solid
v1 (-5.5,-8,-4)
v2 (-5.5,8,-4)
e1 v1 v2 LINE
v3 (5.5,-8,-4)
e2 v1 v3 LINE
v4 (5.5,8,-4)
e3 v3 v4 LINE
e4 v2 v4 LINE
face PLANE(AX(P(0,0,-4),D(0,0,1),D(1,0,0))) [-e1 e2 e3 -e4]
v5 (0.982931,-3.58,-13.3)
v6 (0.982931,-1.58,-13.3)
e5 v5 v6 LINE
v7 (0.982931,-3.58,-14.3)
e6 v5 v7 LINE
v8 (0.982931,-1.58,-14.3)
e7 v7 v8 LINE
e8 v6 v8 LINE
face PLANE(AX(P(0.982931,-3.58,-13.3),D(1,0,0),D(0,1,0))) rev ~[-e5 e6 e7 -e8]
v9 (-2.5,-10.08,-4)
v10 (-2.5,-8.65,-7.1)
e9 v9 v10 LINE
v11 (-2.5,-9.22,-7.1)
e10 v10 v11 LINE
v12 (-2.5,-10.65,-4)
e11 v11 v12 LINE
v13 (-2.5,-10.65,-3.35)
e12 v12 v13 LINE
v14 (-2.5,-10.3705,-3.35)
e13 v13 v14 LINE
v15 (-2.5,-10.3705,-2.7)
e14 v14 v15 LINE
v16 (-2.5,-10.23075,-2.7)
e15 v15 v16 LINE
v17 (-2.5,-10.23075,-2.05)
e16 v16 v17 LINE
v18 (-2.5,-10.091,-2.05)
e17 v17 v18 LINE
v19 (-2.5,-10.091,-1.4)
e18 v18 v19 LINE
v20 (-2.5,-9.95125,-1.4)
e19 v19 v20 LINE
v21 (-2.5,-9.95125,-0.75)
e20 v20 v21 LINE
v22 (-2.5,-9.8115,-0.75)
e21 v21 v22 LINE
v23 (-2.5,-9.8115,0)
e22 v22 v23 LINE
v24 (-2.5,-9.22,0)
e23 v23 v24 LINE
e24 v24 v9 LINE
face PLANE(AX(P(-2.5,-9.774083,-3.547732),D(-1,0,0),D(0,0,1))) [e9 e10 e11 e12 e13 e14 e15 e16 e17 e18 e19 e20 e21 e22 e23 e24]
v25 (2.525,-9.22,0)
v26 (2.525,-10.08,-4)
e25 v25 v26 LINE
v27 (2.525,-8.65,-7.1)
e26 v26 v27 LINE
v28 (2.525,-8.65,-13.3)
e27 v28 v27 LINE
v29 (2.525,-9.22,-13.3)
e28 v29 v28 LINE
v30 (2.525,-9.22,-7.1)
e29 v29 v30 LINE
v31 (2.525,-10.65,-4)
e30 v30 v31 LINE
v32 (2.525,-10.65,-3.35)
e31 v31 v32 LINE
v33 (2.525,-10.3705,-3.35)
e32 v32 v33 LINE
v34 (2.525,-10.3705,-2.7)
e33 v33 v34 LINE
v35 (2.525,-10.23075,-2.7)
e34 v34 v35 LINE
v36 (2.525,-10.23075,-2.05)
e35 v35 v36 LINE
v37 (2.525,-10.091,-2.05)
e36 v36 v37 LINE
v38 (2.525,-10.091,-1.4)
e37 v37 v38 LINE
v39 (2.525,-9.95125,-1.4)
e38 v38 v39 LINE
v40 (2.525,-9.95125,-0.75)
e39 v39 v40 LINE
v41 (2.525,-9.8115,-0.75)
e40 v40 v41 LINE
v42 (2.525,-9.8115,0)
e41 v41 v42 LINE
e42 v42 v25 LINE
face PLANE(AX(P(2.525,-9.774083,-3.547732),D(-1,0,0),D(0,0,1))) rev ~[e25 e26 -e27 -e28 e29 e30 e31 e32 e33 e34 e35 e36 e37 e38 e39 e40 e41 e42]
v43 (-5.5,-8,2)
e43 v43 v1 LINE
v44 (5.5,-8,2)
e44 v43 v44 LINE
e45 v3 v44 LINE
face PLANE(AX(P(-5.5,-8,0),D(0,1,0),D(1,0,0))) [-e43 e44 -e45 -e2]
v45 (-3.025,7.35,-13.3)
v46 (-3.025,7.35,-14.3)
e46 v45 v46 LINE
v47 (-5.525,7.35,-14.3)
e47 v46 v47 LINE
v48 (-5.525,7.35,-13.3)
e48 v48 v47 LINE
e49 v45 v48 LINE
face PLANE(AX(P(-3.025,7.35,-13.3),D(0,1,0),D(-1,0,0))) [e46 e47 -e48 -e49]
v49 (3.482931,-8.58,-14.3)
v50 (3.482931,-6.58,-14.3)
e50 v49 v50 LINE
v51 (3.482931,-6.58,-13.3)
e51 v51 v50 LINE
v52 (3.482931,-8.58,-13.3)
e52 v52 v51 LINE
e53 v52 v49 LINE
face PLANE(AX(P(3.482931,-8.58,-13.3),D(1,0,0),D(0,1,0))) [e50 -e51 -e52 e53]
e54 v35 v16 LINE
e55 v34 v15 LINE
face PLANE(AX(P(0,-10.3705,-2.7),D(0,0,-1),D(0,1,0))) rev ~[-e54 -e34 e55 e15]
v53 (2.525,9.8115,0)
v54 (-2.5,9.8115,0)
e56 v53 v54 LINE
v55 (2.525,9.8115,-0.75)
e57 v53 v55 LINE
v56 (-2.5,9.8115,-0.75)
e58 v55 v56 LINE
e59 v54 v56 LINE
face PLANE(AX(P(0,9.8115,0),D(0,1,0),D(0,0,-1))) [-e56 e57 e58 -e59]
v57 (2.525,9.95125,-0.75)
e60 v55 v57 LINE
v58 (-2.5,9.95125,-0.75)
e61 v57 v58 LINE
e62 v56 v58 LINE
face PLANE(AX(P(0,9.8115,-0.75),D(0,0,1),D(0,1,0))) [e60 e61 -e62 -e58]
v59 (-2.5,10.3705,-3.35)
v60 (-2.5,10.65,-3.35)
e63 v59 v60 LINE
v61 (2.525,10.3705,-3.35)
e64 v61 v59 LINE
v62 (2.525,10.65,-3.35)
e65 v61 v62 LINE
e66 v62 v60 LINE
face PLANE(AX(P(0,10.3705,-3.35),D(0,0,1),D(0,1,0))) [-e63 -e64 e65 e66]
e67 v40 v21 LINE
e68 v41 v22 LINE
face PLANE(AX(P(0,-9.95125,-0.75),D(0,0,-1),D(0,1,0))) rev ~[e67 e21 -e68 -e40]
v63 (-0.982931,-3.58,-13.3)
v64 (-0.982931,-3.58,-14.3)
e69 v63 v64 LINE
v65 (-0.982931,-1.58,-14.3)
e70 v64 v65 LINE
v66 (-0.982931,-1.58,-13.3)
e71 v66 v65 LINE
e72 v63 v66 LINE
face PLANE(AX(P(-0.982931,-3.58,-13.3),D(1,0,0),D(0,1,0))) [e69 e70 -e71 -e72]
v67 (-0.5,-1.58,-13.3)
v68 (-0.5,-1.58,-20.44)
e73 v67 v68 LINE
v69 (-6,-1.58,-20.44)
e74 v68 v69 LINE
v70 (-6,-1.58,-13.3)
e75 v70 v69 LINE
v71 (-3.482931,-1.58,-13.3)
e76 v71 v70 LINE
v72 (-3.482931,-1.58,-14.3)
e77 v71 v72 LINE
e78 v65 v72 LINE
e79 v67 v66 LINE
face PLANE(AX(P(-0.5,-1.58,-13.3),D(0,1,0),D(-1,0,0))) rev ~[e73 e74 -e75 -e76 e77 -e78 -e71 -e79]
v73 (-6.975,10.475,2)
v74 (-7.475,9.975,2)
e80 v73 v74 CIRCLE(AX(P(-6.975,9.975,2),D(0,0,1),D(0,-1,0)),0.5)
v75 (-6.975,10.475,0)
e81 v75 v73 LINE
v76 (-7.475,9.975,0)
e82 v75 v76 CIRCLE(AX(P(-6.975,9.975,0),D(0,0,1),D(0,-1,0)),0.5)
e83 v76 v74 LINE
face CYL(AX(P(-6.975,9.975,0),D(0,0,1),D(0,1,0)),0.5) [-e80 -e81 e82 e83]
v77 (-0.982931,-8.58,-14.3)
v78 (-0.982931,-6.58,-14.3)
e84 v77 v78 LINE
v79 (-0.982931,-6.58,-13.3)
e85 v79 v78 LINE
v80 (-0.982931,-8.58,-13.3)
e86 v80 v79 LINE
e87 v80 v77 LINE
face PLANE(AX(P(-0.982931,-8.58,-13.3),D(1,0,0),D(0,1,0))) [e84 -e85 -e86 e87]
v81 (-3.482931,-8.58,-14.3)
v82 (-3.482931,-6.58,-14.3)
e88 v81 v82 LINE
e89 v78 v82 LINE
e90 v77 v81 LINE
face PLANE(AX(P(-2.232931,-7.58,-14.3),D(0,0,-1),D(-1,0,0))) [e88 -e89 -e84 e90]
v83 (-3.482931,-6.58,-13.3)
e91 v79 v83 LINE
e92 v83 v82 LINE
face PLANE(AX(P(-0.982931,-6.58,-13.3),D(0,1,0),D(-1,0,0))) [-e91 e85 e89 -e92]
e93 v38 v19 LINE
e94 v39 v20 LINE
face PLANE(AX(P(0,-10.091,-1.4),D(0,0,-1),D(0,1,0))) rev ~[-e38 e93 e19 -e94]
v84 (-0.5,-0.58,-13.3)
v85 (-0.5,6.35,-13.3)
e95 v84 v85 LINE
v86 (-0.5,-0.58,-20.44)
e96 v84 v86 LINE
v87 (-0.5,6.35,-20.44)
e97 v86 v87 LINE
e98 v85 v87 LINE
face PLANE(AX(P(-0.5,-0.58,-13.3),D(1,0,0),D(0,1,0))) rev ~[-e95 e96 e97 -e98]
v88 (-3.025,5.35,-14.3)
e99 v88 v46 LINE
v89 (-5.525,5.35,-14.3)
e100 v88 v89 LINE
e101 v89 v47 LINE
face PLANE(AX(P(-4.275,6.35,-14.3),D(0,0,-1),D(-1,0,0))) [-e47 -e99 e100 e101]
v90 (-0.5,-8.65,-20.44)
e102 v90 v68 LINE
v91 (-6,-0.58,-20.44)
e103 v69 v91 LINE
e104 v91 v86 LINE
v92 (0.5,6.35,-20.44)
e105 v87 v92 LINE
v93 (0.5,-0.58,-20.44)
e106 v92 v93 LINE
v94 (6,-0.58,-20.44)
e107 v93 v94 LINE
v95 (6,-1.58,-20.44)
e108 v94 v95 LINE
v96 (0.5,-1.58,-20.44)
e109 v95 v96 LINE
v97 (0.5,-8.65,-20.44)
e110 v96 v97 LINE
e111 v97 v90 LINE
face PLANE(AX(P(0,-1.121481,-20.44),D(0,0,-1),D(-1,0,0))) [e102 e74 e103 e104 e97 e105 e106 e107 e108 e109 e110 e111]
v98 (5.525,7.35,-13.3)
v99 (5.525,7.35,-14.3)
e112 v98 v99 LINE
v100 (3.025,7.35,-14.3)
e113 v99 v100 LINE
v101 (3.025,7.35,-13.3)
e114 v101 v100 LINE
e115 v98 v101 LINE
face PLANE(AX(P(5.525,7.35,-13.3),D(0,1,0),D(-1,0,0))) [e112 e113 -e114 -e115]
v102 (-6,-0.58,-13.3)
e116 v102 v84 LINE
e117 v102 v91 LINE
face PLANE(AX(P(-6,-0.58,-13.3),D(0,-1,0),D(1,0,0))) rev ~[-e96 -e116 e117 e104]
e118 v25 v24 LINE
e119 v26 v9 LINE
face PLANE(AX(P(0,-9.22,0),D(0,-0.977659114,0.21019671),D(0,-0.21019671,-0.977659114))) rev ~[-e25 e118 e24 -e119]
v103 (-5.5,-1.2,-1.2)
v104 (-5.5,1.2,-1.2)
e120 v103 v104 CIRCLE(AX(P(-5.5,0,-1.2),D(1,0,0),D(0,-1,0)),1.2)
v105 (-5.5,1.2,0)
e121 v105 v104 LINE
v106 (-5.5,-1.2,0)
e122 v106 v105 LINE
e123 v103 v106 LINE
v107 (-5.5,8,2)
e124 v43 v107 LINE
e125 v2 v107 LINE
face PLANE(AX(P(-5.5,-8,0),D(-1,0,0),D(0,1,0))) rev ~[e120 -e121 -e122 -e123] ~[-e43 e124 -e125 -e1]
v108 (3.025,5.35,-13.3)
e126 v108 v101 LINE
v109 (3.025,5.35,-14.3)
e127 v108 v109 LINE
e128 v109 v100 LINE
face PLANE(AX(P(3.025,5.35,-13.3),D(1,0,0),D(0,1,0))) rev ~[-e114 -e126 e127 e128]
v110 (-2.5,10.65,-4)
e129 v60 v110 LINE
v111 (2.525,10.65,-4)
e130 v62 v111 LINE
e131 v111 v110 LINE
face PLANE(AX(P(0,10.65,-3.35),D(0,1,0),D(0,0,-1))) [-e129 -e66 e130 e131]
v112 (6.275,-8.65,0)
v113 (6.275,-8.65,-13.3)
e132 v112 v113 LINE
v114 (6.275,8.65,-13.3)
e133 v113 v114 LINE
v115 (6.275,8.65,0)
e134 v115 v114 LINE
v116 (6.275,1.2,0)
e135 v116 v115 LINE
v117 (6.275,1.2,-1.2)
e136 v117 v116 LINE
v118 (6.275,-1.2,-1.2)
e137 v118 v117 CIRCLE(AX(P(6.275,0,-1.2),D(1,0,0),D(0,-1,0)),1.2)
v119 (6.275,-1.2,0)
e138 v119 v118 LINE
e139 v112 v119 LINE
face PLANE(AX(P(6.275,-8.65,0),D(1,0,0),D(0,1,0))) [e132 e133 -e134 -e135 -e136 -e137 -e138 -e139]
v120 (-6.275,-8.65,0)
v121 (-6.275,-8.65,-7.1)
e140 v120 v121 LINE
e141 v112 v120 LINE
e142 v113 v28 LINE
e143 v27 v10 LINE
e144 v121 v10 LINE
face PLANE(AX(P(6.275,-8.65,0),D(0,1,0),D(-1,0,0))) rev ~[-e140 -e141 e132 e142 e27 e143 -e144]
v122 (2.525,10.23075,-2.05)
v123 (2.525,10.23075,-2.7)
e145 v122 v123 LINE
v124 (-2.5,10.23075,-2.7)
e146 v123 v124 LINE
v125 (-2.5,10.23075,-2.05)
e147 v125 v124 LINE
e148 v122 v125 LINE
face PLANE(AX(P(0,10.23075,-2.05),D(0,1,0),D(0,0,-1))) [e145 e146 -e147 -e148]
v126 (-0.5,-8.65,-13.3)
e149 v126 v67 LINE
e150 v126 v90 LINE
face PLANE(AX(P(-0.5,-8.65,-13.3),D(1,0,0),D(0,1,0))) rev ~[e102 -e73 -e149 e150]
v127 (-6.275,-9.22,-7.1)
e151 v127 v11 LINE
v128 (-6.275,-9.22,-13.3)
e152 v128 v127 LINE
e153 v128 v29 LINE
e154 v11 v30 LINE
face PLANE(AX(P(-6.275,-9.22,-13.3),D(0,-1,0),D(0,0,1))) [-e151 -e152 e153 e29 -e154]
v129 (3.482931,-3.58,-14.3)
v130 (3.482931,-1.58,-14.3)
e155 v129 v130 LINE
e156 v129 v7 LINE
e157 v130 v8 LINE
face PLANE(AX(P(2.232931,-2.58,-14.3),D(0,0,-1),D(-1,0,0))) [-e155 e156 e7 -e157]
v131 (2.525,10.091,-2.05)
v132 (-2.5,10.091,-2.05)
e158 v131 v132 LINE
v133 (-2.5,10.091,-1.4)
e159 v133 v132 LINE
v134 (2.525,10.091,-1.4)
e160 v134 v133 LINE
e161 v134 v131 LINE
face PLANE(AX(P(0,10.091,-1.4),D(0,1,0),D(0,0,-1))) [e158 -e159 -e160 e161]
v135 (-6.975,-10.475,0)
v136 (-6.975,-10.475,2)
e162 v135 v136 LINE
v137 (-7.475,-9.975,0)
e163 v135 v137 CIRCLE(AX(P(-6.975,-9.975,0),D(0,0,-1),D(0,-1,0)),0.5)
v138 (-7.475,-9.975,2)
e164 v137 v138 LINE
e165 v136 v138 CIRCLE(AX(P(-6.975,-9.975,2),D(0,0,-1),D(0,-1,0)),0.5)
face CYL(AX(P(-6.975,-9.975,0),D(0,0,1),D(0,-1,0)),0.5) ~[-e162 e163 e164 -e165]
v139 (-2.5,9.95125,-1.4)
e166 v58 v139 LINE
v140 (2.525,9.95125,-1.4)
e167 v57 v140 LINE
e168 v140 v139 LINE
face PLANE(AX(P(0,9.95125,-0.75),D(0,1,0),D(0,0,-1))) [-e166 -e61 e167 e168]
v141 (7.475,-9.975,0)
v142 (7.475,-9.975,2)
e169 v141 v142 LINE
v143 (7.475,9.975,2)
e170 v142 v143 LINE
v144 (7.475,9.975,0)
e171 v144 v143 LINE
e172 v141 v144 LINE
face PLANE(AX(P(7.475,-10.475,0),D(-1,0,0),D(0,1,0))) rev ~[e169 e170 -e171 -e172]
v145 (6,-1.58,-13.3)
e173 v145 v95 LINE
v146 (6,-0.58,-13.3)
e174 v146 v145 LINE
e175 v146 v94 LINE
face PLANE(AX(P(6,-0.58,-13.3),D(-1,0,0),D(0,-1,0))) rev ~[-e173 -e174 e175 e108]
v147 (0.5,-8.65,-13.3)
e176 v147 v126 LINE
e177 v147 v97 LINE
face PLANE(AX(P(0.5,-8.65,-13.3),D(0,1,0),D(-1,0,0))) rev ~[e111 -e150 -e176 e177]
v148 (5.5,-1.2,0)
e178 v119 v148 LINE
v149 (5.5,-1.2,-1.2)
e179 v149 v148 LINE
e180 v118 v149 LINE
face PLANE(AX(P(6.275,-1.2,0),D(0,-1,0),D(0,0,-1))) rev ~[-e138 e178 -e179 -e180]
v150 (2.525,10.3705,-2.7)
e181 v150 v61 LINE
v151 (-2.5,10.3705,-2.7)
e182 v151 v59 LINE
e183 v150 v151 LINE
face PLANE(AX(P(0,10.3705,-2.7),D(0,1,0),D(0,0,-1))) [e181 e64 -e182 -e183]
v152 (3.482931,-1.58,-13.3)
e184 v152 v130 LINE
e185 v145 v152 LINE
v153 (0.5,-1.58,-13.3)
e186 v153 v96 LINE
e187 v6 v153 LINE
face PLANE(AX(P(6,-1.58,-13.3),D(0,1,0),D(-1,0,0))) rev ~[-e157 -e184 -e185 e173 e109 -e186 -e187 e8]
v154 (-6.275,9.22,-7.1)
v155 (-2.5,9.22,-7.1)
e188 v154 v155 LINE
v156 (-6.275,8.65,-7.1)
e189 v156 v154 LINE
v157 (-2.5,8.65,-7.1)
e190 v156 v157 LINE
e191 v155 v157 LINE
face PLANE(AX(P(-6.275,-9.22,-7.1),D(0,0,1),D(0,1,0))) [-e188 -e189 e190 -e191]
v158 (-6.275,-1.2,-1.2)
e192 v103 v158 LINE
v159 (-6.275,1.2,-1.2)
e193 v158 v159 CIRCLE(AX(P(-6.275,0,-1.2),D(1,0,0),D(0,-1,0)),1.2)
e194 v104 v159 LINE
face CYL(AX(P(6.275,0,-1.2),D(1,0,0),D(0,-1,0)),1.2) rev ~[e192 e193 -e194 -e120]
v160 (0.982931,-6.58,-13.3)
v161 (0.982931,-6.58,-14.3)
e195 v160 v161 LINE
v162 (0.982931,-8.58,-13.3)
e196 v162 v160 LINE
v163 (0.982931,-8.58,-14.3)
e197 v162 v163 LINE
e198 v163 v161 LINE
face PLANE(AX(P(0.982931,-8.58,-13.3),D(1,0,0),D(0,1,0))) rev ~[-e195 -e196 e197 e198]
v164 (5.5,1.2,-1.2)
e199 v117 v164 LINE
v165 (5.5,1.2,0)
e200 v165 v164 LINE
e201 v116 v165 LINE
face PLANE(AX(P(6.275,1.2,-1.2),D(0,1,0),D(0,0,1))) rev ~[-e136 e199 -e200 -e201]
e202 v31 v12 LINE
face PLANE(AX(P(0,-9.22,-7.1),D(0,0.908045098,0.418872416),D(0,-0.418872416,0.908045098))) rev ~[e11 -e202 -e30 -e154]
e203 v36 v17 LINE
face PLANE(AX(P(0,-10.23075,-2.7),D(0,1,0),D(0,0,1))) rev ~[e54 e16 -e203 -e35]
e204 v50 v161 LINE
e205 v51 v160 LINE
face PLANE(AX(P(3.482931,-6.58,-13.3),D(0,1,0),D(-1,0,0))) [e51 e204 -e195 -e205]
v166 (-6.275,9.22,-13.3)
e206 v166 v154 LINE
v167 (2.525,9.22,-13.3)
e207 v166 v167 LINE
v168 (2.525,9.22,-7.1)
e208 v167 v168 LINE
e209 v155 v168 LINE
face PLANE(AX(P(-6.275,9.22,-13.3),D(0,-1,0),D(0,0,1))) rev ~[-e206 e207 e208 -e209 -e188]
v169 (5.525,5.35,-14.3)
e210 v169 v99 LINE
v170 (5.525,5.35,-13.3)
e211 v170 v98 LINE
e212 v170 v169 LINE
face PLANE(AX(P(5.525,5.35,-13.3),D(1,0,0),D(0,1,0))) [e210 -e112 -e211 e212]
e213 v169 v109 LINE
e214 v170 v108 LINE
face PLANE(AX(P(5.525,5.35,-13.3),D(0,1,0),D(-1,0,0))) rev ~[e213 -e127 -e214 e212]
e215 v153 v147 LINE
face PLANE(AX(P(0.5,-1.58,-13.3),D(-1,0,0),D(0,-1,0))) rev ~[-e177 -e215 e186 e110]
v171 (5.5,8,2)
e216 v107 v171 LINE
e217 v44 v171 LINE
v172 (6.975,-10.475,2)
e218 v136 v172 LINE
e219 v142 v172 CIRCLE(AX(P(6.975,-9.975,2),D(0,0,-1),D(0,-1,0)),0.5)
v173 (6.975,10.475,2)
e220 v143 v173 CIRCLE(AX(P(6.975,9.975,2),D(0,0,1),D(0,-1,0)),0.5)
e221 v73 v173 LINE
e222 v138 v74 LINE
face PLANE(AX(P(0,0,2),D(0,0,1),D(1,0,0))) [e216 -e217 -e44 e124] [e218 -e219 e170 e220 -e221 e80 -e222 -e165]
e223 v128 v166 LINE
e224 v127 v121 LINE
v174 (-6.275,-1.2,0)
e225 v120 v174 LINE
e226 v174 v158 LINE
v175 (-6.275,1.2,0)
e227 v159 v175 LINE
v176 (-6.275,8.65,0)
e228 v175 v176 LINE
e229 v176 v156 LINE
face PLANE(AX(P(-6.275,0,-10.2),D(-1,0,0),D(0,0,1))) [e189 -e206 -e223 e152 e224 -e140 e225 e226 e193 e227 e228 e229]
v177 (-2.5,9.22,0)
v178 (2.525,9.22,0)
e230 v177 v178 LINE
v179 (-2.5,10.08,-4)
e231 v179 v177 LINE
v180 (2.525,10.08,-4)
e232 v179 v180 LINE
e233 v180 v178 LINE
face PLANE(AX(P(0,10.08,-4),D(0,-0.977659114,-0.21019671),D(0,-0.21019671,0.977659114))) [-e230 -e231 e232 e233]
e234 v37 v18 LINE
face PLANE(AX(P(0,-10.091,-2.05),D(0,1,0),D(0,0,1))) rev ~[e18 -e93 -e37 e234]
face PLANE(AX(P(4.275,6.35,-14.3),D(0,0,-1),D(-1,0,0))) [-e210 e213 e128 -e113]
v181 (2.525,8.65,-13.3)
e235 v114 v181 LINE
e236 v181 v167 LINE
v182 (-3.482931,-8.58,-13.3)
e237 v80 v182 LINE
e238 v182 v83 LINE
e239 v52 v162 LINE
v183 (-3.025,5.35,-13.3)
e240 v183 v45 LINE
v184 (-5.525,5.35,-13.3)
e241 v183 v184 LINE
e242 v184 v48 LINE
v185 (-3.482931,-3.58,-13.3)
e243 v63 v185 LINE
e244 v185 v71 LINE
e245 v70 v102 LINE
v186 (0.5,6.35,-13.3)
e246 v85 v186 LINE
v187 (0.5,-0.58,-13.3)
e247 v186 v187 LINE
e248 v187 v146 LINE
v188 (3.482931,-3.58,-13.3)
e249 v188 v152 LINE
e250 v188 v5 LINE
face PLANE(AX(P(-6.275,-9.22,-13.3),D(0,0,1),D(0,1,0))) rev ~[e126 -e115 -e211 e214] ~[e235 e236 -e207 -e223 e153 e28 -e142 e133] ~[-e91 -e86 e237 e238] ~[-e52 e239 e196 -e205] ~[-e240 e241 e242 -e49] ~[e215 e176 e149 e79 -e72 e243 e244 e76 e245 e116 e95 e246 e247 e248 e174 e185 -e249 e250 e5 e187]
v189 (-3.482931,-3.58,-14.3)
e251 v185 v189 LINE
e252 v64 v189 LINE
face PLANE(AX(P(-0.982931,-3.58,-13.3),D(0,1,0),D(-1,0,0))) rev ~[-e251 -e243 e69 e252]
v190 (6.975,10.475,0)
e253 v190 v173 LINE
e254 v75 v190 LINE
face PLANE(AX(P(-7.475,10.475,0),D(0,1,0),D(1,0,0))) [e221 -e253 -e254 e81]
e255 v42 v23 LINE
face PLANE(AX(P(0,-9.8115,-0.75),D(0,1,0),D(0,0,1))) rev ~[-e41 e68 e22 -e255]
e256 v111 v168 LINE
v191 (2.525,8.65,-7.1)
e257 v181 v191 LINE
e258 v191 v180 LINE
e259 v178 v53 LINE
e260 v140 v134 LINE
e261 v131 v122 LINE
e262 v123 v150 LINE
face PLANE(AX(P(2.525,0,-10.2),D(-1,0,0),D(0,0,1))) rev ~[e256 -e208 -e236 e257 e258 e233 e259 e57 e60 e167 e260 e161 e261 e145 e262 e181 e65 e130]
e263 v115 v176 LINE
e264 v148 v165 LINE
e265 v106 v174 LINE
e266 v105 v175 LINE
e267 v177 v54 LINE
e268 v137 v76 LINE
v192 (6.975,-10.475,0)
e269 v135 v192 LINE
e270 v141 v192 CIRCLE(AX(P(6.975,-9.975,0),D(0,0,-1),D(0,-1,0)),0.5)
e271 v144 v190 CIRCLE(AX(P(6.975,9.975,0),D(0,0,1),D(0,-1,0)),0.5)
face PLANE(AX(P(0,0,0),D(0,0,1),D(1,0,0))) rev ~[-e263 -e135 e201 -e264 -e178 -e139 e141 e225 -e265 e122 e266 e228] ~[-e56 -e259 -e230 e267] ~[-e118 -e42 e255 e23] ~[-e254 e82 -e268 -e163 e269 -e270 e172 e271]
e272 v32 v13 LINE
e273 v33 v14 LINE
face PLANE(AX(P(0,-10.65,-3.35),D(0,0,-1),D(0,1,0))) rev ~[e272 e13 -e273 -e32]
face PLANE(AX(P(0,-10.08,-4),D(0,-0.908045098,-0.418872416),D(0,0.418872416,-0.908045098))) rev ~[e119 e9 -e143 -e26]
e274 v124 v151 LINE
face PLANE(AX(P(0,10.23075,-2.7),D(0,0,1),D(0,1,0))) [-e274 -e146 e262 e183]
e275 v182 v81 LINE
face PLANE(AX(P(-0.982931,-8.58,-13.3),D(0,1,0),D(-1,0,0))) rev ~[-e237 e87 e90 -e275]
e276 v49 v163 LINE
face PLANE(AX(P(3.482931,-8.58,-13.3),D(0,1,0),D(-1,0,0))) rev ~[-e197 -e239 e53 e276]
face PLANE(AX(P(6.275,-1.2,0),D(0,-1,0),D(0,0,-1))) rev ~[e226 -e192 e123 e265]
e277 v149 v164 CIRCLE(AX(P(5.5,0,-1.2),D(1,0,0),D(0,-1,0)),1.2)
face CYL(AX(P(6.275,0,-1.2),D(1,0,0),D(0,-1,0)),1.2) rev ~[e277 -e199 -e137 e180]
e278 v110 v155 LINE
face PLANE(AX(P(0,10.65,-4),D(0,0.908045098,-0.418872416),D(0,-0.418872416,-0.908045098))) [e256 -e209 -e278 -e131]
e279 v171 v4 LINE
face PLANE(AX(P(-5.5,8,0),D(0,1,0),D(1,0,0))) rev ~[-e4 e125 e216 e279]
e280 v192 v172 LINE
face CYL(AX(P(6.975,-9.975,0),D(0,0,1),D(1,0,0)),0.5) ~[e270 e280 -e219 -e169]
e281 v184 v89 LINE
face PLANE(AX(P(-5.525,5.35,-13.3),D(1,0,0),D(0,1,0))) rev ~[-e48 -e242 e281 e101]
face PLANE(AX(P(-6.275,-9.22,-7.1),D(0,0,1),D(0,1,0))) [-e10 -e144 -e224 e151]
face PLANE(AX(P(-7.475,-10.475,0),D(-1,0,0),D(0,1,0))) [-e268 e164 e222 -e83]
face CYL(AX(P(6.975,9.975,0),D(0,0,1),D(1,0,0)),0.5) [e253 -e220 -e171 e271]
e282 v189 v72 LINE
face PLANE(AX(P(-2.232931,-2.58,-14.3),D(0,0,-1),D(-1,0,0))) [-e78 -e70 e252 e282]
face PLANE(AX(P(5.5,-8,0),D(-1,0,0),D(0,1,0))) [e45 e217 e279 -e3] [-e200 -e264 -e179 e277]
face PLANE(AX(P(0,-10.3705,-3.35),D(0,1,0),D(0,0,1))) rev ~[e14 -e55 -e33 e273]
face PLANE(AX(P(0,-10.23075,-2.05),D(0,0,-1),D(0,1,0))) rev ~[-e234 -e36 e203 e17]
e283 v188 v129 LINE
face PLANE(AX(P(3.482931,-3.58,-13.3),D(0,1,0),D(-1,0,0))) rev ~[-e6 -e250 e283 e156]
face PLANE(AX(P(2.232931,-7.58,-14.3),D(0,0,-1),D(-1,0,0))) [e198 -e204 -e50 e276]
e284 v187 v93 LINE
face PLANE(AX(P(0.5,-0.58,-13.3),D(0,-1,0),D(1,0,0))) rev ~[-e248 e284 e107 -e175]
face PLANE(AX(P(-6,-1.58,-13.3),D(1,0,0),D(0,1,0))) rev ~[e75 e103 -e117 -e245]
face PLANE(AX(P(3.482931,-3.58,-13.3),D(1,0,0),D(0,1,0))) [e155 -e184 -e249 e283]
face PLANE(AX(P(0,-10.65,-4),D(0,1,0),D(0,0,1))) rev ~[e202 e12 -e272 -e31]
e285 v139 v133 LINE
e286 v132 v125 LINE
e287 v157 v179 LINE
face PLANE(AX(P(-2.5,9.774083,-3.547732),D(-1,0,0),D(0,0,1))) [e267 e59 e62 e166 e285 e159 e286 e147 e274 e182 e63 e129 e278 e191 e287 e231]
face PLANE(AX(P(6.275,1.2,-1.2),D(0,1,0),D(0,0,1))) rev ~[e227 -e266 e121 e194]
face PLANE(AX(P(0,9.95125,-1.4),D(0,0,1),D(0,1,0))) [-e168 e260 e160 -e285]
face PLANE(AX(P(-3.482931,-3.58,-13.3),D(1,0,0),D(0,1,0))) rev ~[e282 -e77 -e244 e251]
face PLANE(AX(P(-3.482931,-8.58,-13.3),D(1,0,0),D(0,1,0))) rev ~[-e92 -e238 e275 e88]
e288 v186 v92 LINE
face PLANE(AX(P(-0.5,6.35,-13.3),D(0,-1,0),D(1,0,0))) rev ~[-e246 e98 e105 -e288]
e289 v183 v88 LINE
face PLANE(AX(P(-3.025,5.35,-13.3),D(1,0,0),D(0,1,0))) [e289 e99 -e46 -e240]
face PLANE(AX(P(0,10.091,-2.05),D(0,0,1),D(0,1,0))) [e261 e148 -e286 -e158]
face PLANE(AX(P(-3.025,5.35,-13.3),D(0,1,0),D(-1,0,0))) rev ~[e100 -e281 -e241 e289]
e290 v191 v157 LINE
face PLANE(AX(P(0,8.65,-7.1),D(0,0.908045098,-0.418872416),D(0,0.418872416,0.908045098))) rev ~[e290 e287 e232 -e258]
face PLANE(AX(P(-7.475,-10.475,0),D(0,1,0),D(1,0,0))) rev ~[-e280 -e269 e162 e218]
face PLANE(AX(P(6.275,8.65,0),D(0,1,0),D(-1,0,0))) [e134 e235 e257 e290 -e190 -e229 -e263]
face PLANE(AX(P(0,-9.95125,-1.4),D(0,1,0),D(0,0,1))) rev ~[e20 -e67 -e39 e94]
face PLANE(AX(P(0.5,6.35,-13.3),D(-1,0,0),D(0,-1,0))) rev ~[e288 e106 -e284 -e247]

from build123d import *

# Parameters (mm, degrees)
SKETCH1_W                = 14.95
SKETCH1_H                = 20.95
SKETCH1_W_2              = 11
SKETCH1_H_2              = 16
BOSS_EXTRUDE1_DEPTH      = 2
SKETCH2_W                = 12.55
SKETCH2_H                = 17.3
BOSS_EXTRUDE2_DEPTH      = 13.3
SKETCH3_W                = 6.2
SKETCH3_H                = 18.44
BOSS_EXTRUDE3_DEPTH      = 8.8
BOSS_EXTRUDE4_DEPTH      = 2.525
BOSS_EXTRUDE4_DEPTH_BACK = 2.5
BOSS_EXTRUDE5_DEPTH      = 7.14
SKETCH6_W                = 2.5
SKETCH6_H                = 2
BOSS_EXTRUDE6_DEPTH      = 1
CUT_EXTRUDE1_DEPTH       = 12.55
SKETCH8_W                = 11
SKETCH8_H                = 16
CUT_EXTRUDE2_DEPTH       = 4
FILLET1_R                = 0.5


with BuildPart() as part:
    # Sketch1 → Boss-Extrude1 (new body)
    with BuildSketch(Plane.XY):
        Rectangle(SKETCH1_W, SKETCH1_H)
        Rectangle(SKETCH1_W_2, SKETCH1_H_2, mode=Mode.SUBTRACT)
    extrude(amount=BOSS_EXTRUDE1_DEPTH)

    # Sketch2 → Boss-Extrude2 (add)
    with BuildSketch(Plane(origin=(0, 0, 0), x_dir=(-1, 0, 0), z_dir=(0, 0, -1))):
        Rectangle(SKETCH2_W, SKETCH2_H)
    extrude(amount=BOSS_EXTRUDE2_DEPTH)

    # Sketch3 → Boss-Extrude3 (add)
    with BuildSketch(Plane.ZY.offset(6.275)):
        with Locations((-10.2, 0)):
            Rectangle(SKETCH3_W, SKETCH3_H)
    extrude(amount=-BOSS_EXTRUDE3_DEPTH)

    # Sketch4 → Boss-Extrude4 (add, two sides)
    with BuildSketch(Plane(origin=(0, 0, 0), x_dir=(0, 0, -1), z_dir=(1, 0, 0))) as boss_extrude4_sk:
        Polygon((7.1, -9.22), (4, -10.65), (3.35, -10.65), (3.35, -10.3705), (2.7, -10.3705), (2.7, -10.23075), (2.05, -10.23075), (2.05, -10.091), (1.4, -10.091), (1.4, -9.95125), (0.75, -9.95125), (0.75, -9.8115), (0, -9.8115), (0, -9.22), (4, -10.08), (7.1, -8.65), align=None)
        Polygon((7.1, 9.22), (7.1, 8.65), (4, 10.08), (0, 9.22), (0, 9.8115), (0.75, 9.8115), (0.75, 9.95125), (1.4, 9.95125), (1.4, 10.091), (2.05, 10.091), (2.05, 10.23075), (2.7, 10.23075), (2.7, 10.3705), (3.35, 10.3705), (3.35, 10.65), (4, 10.65), align=None)
    extrude(amount=BOSS_EXTRUDE4_DEPTH)
    extrude(boss_extrude4_sk.sketch, amount=-BOSS_EXTRUDE4_DEPTH_BACK)

    # Sketch5 → Boss-Extrude5 (add)
    with BuildSketch(Plane(origin=(0, 0, -13.3), x_dir=(-1, 0, 0), z_dir=(0, 0, -1))):
        Polygon((0.5, 6.35), (-0.5, 6.35), (-0.5, -0.58), (-6, -0.58), (-6, -1.58), (-0.5, -1.58), (-0.5, -8.65), (0.5, -8.65), (0.5, -1.58), (6, -1.58), (6, -0.58), (0.5, -0.58), align=None)
    extrude(amount=BOSS_EXTRUDE5_DEPTH)

    # Sketch6 → Boss-Extrude6 (add)
    with BuildSketch(Plane(origin=(0, 0, -13.3), x_dir=(-1, 0, 0), z_dir=(0, 0, -1))):
        with Locations((2.232930788, -2.58)):
            Rectangle(SKETCH6_W, SKETCH6_H)
        with Locations((2.232930788, -7.58)):
            Rectangle(SKETCH6_W, SKETCH6_H)
        with Locations((-2.232930788, -7.58)):
            Rectangle(SKETCH6_W, SKETCH6_H)
        with Locations((-2.232930788, -2.58)):
            Rectangle(SKETCH6_W, SKETCH6_H)
        with Locations((4.275, 6.35)):
            Rectangle(SKETCH6_W, SKETCH6_H)
        with Locations((-4.275, 6.35)):
            Rectangle(SKETCH6_W, SKETCH6_H)
    extrude(amount=BOSS_EXTRUDE6_DEPTH)

    # Sketch7 → Cut-Extrude1 (cut)
    with BuildSketch(Plane(origin=(6.275, 0, 0), x_dir=(0, 0, -1), z_dir=(1, 0, 0))):
        with BuildLine():
            Line((1.2, 1.2), (0, 1.2))
            Line((0, 1.2), (0, -1.2))
            Line((0, -1.2), (1.2, -1.2))
            ThreePointArc((1.2, -1.2), (2.4, 0), (1.2, 1.2))
        make_face()
    extrude(amount=-CUT_EXTRUDE1_DEPTH, mode=Mode.SUBTRACT)

    # Sketch8 → Cut-Extrude2 (cut)
    with BuildSketch(Plane.XY):
        Rectangle(SKETCH8_W, SKETCH8_H)
    extrude(amount=-CUT_EXTRUDE2_DEPTH, mode=Mode.SUBTRACT)

    # Fillet1
    fillet1_edges = [part.edges().sort_by_distance(p)[0] for p in [
        (-7.475, 10.475, 1),
        (7.475, 10.475, 1),
        (7.475, -10.475, 1),
        (-7.475, -10.475, 1),
    ]]
    fillet(fillet1_edges, radius=FILLET1_R)


solid = part.part
